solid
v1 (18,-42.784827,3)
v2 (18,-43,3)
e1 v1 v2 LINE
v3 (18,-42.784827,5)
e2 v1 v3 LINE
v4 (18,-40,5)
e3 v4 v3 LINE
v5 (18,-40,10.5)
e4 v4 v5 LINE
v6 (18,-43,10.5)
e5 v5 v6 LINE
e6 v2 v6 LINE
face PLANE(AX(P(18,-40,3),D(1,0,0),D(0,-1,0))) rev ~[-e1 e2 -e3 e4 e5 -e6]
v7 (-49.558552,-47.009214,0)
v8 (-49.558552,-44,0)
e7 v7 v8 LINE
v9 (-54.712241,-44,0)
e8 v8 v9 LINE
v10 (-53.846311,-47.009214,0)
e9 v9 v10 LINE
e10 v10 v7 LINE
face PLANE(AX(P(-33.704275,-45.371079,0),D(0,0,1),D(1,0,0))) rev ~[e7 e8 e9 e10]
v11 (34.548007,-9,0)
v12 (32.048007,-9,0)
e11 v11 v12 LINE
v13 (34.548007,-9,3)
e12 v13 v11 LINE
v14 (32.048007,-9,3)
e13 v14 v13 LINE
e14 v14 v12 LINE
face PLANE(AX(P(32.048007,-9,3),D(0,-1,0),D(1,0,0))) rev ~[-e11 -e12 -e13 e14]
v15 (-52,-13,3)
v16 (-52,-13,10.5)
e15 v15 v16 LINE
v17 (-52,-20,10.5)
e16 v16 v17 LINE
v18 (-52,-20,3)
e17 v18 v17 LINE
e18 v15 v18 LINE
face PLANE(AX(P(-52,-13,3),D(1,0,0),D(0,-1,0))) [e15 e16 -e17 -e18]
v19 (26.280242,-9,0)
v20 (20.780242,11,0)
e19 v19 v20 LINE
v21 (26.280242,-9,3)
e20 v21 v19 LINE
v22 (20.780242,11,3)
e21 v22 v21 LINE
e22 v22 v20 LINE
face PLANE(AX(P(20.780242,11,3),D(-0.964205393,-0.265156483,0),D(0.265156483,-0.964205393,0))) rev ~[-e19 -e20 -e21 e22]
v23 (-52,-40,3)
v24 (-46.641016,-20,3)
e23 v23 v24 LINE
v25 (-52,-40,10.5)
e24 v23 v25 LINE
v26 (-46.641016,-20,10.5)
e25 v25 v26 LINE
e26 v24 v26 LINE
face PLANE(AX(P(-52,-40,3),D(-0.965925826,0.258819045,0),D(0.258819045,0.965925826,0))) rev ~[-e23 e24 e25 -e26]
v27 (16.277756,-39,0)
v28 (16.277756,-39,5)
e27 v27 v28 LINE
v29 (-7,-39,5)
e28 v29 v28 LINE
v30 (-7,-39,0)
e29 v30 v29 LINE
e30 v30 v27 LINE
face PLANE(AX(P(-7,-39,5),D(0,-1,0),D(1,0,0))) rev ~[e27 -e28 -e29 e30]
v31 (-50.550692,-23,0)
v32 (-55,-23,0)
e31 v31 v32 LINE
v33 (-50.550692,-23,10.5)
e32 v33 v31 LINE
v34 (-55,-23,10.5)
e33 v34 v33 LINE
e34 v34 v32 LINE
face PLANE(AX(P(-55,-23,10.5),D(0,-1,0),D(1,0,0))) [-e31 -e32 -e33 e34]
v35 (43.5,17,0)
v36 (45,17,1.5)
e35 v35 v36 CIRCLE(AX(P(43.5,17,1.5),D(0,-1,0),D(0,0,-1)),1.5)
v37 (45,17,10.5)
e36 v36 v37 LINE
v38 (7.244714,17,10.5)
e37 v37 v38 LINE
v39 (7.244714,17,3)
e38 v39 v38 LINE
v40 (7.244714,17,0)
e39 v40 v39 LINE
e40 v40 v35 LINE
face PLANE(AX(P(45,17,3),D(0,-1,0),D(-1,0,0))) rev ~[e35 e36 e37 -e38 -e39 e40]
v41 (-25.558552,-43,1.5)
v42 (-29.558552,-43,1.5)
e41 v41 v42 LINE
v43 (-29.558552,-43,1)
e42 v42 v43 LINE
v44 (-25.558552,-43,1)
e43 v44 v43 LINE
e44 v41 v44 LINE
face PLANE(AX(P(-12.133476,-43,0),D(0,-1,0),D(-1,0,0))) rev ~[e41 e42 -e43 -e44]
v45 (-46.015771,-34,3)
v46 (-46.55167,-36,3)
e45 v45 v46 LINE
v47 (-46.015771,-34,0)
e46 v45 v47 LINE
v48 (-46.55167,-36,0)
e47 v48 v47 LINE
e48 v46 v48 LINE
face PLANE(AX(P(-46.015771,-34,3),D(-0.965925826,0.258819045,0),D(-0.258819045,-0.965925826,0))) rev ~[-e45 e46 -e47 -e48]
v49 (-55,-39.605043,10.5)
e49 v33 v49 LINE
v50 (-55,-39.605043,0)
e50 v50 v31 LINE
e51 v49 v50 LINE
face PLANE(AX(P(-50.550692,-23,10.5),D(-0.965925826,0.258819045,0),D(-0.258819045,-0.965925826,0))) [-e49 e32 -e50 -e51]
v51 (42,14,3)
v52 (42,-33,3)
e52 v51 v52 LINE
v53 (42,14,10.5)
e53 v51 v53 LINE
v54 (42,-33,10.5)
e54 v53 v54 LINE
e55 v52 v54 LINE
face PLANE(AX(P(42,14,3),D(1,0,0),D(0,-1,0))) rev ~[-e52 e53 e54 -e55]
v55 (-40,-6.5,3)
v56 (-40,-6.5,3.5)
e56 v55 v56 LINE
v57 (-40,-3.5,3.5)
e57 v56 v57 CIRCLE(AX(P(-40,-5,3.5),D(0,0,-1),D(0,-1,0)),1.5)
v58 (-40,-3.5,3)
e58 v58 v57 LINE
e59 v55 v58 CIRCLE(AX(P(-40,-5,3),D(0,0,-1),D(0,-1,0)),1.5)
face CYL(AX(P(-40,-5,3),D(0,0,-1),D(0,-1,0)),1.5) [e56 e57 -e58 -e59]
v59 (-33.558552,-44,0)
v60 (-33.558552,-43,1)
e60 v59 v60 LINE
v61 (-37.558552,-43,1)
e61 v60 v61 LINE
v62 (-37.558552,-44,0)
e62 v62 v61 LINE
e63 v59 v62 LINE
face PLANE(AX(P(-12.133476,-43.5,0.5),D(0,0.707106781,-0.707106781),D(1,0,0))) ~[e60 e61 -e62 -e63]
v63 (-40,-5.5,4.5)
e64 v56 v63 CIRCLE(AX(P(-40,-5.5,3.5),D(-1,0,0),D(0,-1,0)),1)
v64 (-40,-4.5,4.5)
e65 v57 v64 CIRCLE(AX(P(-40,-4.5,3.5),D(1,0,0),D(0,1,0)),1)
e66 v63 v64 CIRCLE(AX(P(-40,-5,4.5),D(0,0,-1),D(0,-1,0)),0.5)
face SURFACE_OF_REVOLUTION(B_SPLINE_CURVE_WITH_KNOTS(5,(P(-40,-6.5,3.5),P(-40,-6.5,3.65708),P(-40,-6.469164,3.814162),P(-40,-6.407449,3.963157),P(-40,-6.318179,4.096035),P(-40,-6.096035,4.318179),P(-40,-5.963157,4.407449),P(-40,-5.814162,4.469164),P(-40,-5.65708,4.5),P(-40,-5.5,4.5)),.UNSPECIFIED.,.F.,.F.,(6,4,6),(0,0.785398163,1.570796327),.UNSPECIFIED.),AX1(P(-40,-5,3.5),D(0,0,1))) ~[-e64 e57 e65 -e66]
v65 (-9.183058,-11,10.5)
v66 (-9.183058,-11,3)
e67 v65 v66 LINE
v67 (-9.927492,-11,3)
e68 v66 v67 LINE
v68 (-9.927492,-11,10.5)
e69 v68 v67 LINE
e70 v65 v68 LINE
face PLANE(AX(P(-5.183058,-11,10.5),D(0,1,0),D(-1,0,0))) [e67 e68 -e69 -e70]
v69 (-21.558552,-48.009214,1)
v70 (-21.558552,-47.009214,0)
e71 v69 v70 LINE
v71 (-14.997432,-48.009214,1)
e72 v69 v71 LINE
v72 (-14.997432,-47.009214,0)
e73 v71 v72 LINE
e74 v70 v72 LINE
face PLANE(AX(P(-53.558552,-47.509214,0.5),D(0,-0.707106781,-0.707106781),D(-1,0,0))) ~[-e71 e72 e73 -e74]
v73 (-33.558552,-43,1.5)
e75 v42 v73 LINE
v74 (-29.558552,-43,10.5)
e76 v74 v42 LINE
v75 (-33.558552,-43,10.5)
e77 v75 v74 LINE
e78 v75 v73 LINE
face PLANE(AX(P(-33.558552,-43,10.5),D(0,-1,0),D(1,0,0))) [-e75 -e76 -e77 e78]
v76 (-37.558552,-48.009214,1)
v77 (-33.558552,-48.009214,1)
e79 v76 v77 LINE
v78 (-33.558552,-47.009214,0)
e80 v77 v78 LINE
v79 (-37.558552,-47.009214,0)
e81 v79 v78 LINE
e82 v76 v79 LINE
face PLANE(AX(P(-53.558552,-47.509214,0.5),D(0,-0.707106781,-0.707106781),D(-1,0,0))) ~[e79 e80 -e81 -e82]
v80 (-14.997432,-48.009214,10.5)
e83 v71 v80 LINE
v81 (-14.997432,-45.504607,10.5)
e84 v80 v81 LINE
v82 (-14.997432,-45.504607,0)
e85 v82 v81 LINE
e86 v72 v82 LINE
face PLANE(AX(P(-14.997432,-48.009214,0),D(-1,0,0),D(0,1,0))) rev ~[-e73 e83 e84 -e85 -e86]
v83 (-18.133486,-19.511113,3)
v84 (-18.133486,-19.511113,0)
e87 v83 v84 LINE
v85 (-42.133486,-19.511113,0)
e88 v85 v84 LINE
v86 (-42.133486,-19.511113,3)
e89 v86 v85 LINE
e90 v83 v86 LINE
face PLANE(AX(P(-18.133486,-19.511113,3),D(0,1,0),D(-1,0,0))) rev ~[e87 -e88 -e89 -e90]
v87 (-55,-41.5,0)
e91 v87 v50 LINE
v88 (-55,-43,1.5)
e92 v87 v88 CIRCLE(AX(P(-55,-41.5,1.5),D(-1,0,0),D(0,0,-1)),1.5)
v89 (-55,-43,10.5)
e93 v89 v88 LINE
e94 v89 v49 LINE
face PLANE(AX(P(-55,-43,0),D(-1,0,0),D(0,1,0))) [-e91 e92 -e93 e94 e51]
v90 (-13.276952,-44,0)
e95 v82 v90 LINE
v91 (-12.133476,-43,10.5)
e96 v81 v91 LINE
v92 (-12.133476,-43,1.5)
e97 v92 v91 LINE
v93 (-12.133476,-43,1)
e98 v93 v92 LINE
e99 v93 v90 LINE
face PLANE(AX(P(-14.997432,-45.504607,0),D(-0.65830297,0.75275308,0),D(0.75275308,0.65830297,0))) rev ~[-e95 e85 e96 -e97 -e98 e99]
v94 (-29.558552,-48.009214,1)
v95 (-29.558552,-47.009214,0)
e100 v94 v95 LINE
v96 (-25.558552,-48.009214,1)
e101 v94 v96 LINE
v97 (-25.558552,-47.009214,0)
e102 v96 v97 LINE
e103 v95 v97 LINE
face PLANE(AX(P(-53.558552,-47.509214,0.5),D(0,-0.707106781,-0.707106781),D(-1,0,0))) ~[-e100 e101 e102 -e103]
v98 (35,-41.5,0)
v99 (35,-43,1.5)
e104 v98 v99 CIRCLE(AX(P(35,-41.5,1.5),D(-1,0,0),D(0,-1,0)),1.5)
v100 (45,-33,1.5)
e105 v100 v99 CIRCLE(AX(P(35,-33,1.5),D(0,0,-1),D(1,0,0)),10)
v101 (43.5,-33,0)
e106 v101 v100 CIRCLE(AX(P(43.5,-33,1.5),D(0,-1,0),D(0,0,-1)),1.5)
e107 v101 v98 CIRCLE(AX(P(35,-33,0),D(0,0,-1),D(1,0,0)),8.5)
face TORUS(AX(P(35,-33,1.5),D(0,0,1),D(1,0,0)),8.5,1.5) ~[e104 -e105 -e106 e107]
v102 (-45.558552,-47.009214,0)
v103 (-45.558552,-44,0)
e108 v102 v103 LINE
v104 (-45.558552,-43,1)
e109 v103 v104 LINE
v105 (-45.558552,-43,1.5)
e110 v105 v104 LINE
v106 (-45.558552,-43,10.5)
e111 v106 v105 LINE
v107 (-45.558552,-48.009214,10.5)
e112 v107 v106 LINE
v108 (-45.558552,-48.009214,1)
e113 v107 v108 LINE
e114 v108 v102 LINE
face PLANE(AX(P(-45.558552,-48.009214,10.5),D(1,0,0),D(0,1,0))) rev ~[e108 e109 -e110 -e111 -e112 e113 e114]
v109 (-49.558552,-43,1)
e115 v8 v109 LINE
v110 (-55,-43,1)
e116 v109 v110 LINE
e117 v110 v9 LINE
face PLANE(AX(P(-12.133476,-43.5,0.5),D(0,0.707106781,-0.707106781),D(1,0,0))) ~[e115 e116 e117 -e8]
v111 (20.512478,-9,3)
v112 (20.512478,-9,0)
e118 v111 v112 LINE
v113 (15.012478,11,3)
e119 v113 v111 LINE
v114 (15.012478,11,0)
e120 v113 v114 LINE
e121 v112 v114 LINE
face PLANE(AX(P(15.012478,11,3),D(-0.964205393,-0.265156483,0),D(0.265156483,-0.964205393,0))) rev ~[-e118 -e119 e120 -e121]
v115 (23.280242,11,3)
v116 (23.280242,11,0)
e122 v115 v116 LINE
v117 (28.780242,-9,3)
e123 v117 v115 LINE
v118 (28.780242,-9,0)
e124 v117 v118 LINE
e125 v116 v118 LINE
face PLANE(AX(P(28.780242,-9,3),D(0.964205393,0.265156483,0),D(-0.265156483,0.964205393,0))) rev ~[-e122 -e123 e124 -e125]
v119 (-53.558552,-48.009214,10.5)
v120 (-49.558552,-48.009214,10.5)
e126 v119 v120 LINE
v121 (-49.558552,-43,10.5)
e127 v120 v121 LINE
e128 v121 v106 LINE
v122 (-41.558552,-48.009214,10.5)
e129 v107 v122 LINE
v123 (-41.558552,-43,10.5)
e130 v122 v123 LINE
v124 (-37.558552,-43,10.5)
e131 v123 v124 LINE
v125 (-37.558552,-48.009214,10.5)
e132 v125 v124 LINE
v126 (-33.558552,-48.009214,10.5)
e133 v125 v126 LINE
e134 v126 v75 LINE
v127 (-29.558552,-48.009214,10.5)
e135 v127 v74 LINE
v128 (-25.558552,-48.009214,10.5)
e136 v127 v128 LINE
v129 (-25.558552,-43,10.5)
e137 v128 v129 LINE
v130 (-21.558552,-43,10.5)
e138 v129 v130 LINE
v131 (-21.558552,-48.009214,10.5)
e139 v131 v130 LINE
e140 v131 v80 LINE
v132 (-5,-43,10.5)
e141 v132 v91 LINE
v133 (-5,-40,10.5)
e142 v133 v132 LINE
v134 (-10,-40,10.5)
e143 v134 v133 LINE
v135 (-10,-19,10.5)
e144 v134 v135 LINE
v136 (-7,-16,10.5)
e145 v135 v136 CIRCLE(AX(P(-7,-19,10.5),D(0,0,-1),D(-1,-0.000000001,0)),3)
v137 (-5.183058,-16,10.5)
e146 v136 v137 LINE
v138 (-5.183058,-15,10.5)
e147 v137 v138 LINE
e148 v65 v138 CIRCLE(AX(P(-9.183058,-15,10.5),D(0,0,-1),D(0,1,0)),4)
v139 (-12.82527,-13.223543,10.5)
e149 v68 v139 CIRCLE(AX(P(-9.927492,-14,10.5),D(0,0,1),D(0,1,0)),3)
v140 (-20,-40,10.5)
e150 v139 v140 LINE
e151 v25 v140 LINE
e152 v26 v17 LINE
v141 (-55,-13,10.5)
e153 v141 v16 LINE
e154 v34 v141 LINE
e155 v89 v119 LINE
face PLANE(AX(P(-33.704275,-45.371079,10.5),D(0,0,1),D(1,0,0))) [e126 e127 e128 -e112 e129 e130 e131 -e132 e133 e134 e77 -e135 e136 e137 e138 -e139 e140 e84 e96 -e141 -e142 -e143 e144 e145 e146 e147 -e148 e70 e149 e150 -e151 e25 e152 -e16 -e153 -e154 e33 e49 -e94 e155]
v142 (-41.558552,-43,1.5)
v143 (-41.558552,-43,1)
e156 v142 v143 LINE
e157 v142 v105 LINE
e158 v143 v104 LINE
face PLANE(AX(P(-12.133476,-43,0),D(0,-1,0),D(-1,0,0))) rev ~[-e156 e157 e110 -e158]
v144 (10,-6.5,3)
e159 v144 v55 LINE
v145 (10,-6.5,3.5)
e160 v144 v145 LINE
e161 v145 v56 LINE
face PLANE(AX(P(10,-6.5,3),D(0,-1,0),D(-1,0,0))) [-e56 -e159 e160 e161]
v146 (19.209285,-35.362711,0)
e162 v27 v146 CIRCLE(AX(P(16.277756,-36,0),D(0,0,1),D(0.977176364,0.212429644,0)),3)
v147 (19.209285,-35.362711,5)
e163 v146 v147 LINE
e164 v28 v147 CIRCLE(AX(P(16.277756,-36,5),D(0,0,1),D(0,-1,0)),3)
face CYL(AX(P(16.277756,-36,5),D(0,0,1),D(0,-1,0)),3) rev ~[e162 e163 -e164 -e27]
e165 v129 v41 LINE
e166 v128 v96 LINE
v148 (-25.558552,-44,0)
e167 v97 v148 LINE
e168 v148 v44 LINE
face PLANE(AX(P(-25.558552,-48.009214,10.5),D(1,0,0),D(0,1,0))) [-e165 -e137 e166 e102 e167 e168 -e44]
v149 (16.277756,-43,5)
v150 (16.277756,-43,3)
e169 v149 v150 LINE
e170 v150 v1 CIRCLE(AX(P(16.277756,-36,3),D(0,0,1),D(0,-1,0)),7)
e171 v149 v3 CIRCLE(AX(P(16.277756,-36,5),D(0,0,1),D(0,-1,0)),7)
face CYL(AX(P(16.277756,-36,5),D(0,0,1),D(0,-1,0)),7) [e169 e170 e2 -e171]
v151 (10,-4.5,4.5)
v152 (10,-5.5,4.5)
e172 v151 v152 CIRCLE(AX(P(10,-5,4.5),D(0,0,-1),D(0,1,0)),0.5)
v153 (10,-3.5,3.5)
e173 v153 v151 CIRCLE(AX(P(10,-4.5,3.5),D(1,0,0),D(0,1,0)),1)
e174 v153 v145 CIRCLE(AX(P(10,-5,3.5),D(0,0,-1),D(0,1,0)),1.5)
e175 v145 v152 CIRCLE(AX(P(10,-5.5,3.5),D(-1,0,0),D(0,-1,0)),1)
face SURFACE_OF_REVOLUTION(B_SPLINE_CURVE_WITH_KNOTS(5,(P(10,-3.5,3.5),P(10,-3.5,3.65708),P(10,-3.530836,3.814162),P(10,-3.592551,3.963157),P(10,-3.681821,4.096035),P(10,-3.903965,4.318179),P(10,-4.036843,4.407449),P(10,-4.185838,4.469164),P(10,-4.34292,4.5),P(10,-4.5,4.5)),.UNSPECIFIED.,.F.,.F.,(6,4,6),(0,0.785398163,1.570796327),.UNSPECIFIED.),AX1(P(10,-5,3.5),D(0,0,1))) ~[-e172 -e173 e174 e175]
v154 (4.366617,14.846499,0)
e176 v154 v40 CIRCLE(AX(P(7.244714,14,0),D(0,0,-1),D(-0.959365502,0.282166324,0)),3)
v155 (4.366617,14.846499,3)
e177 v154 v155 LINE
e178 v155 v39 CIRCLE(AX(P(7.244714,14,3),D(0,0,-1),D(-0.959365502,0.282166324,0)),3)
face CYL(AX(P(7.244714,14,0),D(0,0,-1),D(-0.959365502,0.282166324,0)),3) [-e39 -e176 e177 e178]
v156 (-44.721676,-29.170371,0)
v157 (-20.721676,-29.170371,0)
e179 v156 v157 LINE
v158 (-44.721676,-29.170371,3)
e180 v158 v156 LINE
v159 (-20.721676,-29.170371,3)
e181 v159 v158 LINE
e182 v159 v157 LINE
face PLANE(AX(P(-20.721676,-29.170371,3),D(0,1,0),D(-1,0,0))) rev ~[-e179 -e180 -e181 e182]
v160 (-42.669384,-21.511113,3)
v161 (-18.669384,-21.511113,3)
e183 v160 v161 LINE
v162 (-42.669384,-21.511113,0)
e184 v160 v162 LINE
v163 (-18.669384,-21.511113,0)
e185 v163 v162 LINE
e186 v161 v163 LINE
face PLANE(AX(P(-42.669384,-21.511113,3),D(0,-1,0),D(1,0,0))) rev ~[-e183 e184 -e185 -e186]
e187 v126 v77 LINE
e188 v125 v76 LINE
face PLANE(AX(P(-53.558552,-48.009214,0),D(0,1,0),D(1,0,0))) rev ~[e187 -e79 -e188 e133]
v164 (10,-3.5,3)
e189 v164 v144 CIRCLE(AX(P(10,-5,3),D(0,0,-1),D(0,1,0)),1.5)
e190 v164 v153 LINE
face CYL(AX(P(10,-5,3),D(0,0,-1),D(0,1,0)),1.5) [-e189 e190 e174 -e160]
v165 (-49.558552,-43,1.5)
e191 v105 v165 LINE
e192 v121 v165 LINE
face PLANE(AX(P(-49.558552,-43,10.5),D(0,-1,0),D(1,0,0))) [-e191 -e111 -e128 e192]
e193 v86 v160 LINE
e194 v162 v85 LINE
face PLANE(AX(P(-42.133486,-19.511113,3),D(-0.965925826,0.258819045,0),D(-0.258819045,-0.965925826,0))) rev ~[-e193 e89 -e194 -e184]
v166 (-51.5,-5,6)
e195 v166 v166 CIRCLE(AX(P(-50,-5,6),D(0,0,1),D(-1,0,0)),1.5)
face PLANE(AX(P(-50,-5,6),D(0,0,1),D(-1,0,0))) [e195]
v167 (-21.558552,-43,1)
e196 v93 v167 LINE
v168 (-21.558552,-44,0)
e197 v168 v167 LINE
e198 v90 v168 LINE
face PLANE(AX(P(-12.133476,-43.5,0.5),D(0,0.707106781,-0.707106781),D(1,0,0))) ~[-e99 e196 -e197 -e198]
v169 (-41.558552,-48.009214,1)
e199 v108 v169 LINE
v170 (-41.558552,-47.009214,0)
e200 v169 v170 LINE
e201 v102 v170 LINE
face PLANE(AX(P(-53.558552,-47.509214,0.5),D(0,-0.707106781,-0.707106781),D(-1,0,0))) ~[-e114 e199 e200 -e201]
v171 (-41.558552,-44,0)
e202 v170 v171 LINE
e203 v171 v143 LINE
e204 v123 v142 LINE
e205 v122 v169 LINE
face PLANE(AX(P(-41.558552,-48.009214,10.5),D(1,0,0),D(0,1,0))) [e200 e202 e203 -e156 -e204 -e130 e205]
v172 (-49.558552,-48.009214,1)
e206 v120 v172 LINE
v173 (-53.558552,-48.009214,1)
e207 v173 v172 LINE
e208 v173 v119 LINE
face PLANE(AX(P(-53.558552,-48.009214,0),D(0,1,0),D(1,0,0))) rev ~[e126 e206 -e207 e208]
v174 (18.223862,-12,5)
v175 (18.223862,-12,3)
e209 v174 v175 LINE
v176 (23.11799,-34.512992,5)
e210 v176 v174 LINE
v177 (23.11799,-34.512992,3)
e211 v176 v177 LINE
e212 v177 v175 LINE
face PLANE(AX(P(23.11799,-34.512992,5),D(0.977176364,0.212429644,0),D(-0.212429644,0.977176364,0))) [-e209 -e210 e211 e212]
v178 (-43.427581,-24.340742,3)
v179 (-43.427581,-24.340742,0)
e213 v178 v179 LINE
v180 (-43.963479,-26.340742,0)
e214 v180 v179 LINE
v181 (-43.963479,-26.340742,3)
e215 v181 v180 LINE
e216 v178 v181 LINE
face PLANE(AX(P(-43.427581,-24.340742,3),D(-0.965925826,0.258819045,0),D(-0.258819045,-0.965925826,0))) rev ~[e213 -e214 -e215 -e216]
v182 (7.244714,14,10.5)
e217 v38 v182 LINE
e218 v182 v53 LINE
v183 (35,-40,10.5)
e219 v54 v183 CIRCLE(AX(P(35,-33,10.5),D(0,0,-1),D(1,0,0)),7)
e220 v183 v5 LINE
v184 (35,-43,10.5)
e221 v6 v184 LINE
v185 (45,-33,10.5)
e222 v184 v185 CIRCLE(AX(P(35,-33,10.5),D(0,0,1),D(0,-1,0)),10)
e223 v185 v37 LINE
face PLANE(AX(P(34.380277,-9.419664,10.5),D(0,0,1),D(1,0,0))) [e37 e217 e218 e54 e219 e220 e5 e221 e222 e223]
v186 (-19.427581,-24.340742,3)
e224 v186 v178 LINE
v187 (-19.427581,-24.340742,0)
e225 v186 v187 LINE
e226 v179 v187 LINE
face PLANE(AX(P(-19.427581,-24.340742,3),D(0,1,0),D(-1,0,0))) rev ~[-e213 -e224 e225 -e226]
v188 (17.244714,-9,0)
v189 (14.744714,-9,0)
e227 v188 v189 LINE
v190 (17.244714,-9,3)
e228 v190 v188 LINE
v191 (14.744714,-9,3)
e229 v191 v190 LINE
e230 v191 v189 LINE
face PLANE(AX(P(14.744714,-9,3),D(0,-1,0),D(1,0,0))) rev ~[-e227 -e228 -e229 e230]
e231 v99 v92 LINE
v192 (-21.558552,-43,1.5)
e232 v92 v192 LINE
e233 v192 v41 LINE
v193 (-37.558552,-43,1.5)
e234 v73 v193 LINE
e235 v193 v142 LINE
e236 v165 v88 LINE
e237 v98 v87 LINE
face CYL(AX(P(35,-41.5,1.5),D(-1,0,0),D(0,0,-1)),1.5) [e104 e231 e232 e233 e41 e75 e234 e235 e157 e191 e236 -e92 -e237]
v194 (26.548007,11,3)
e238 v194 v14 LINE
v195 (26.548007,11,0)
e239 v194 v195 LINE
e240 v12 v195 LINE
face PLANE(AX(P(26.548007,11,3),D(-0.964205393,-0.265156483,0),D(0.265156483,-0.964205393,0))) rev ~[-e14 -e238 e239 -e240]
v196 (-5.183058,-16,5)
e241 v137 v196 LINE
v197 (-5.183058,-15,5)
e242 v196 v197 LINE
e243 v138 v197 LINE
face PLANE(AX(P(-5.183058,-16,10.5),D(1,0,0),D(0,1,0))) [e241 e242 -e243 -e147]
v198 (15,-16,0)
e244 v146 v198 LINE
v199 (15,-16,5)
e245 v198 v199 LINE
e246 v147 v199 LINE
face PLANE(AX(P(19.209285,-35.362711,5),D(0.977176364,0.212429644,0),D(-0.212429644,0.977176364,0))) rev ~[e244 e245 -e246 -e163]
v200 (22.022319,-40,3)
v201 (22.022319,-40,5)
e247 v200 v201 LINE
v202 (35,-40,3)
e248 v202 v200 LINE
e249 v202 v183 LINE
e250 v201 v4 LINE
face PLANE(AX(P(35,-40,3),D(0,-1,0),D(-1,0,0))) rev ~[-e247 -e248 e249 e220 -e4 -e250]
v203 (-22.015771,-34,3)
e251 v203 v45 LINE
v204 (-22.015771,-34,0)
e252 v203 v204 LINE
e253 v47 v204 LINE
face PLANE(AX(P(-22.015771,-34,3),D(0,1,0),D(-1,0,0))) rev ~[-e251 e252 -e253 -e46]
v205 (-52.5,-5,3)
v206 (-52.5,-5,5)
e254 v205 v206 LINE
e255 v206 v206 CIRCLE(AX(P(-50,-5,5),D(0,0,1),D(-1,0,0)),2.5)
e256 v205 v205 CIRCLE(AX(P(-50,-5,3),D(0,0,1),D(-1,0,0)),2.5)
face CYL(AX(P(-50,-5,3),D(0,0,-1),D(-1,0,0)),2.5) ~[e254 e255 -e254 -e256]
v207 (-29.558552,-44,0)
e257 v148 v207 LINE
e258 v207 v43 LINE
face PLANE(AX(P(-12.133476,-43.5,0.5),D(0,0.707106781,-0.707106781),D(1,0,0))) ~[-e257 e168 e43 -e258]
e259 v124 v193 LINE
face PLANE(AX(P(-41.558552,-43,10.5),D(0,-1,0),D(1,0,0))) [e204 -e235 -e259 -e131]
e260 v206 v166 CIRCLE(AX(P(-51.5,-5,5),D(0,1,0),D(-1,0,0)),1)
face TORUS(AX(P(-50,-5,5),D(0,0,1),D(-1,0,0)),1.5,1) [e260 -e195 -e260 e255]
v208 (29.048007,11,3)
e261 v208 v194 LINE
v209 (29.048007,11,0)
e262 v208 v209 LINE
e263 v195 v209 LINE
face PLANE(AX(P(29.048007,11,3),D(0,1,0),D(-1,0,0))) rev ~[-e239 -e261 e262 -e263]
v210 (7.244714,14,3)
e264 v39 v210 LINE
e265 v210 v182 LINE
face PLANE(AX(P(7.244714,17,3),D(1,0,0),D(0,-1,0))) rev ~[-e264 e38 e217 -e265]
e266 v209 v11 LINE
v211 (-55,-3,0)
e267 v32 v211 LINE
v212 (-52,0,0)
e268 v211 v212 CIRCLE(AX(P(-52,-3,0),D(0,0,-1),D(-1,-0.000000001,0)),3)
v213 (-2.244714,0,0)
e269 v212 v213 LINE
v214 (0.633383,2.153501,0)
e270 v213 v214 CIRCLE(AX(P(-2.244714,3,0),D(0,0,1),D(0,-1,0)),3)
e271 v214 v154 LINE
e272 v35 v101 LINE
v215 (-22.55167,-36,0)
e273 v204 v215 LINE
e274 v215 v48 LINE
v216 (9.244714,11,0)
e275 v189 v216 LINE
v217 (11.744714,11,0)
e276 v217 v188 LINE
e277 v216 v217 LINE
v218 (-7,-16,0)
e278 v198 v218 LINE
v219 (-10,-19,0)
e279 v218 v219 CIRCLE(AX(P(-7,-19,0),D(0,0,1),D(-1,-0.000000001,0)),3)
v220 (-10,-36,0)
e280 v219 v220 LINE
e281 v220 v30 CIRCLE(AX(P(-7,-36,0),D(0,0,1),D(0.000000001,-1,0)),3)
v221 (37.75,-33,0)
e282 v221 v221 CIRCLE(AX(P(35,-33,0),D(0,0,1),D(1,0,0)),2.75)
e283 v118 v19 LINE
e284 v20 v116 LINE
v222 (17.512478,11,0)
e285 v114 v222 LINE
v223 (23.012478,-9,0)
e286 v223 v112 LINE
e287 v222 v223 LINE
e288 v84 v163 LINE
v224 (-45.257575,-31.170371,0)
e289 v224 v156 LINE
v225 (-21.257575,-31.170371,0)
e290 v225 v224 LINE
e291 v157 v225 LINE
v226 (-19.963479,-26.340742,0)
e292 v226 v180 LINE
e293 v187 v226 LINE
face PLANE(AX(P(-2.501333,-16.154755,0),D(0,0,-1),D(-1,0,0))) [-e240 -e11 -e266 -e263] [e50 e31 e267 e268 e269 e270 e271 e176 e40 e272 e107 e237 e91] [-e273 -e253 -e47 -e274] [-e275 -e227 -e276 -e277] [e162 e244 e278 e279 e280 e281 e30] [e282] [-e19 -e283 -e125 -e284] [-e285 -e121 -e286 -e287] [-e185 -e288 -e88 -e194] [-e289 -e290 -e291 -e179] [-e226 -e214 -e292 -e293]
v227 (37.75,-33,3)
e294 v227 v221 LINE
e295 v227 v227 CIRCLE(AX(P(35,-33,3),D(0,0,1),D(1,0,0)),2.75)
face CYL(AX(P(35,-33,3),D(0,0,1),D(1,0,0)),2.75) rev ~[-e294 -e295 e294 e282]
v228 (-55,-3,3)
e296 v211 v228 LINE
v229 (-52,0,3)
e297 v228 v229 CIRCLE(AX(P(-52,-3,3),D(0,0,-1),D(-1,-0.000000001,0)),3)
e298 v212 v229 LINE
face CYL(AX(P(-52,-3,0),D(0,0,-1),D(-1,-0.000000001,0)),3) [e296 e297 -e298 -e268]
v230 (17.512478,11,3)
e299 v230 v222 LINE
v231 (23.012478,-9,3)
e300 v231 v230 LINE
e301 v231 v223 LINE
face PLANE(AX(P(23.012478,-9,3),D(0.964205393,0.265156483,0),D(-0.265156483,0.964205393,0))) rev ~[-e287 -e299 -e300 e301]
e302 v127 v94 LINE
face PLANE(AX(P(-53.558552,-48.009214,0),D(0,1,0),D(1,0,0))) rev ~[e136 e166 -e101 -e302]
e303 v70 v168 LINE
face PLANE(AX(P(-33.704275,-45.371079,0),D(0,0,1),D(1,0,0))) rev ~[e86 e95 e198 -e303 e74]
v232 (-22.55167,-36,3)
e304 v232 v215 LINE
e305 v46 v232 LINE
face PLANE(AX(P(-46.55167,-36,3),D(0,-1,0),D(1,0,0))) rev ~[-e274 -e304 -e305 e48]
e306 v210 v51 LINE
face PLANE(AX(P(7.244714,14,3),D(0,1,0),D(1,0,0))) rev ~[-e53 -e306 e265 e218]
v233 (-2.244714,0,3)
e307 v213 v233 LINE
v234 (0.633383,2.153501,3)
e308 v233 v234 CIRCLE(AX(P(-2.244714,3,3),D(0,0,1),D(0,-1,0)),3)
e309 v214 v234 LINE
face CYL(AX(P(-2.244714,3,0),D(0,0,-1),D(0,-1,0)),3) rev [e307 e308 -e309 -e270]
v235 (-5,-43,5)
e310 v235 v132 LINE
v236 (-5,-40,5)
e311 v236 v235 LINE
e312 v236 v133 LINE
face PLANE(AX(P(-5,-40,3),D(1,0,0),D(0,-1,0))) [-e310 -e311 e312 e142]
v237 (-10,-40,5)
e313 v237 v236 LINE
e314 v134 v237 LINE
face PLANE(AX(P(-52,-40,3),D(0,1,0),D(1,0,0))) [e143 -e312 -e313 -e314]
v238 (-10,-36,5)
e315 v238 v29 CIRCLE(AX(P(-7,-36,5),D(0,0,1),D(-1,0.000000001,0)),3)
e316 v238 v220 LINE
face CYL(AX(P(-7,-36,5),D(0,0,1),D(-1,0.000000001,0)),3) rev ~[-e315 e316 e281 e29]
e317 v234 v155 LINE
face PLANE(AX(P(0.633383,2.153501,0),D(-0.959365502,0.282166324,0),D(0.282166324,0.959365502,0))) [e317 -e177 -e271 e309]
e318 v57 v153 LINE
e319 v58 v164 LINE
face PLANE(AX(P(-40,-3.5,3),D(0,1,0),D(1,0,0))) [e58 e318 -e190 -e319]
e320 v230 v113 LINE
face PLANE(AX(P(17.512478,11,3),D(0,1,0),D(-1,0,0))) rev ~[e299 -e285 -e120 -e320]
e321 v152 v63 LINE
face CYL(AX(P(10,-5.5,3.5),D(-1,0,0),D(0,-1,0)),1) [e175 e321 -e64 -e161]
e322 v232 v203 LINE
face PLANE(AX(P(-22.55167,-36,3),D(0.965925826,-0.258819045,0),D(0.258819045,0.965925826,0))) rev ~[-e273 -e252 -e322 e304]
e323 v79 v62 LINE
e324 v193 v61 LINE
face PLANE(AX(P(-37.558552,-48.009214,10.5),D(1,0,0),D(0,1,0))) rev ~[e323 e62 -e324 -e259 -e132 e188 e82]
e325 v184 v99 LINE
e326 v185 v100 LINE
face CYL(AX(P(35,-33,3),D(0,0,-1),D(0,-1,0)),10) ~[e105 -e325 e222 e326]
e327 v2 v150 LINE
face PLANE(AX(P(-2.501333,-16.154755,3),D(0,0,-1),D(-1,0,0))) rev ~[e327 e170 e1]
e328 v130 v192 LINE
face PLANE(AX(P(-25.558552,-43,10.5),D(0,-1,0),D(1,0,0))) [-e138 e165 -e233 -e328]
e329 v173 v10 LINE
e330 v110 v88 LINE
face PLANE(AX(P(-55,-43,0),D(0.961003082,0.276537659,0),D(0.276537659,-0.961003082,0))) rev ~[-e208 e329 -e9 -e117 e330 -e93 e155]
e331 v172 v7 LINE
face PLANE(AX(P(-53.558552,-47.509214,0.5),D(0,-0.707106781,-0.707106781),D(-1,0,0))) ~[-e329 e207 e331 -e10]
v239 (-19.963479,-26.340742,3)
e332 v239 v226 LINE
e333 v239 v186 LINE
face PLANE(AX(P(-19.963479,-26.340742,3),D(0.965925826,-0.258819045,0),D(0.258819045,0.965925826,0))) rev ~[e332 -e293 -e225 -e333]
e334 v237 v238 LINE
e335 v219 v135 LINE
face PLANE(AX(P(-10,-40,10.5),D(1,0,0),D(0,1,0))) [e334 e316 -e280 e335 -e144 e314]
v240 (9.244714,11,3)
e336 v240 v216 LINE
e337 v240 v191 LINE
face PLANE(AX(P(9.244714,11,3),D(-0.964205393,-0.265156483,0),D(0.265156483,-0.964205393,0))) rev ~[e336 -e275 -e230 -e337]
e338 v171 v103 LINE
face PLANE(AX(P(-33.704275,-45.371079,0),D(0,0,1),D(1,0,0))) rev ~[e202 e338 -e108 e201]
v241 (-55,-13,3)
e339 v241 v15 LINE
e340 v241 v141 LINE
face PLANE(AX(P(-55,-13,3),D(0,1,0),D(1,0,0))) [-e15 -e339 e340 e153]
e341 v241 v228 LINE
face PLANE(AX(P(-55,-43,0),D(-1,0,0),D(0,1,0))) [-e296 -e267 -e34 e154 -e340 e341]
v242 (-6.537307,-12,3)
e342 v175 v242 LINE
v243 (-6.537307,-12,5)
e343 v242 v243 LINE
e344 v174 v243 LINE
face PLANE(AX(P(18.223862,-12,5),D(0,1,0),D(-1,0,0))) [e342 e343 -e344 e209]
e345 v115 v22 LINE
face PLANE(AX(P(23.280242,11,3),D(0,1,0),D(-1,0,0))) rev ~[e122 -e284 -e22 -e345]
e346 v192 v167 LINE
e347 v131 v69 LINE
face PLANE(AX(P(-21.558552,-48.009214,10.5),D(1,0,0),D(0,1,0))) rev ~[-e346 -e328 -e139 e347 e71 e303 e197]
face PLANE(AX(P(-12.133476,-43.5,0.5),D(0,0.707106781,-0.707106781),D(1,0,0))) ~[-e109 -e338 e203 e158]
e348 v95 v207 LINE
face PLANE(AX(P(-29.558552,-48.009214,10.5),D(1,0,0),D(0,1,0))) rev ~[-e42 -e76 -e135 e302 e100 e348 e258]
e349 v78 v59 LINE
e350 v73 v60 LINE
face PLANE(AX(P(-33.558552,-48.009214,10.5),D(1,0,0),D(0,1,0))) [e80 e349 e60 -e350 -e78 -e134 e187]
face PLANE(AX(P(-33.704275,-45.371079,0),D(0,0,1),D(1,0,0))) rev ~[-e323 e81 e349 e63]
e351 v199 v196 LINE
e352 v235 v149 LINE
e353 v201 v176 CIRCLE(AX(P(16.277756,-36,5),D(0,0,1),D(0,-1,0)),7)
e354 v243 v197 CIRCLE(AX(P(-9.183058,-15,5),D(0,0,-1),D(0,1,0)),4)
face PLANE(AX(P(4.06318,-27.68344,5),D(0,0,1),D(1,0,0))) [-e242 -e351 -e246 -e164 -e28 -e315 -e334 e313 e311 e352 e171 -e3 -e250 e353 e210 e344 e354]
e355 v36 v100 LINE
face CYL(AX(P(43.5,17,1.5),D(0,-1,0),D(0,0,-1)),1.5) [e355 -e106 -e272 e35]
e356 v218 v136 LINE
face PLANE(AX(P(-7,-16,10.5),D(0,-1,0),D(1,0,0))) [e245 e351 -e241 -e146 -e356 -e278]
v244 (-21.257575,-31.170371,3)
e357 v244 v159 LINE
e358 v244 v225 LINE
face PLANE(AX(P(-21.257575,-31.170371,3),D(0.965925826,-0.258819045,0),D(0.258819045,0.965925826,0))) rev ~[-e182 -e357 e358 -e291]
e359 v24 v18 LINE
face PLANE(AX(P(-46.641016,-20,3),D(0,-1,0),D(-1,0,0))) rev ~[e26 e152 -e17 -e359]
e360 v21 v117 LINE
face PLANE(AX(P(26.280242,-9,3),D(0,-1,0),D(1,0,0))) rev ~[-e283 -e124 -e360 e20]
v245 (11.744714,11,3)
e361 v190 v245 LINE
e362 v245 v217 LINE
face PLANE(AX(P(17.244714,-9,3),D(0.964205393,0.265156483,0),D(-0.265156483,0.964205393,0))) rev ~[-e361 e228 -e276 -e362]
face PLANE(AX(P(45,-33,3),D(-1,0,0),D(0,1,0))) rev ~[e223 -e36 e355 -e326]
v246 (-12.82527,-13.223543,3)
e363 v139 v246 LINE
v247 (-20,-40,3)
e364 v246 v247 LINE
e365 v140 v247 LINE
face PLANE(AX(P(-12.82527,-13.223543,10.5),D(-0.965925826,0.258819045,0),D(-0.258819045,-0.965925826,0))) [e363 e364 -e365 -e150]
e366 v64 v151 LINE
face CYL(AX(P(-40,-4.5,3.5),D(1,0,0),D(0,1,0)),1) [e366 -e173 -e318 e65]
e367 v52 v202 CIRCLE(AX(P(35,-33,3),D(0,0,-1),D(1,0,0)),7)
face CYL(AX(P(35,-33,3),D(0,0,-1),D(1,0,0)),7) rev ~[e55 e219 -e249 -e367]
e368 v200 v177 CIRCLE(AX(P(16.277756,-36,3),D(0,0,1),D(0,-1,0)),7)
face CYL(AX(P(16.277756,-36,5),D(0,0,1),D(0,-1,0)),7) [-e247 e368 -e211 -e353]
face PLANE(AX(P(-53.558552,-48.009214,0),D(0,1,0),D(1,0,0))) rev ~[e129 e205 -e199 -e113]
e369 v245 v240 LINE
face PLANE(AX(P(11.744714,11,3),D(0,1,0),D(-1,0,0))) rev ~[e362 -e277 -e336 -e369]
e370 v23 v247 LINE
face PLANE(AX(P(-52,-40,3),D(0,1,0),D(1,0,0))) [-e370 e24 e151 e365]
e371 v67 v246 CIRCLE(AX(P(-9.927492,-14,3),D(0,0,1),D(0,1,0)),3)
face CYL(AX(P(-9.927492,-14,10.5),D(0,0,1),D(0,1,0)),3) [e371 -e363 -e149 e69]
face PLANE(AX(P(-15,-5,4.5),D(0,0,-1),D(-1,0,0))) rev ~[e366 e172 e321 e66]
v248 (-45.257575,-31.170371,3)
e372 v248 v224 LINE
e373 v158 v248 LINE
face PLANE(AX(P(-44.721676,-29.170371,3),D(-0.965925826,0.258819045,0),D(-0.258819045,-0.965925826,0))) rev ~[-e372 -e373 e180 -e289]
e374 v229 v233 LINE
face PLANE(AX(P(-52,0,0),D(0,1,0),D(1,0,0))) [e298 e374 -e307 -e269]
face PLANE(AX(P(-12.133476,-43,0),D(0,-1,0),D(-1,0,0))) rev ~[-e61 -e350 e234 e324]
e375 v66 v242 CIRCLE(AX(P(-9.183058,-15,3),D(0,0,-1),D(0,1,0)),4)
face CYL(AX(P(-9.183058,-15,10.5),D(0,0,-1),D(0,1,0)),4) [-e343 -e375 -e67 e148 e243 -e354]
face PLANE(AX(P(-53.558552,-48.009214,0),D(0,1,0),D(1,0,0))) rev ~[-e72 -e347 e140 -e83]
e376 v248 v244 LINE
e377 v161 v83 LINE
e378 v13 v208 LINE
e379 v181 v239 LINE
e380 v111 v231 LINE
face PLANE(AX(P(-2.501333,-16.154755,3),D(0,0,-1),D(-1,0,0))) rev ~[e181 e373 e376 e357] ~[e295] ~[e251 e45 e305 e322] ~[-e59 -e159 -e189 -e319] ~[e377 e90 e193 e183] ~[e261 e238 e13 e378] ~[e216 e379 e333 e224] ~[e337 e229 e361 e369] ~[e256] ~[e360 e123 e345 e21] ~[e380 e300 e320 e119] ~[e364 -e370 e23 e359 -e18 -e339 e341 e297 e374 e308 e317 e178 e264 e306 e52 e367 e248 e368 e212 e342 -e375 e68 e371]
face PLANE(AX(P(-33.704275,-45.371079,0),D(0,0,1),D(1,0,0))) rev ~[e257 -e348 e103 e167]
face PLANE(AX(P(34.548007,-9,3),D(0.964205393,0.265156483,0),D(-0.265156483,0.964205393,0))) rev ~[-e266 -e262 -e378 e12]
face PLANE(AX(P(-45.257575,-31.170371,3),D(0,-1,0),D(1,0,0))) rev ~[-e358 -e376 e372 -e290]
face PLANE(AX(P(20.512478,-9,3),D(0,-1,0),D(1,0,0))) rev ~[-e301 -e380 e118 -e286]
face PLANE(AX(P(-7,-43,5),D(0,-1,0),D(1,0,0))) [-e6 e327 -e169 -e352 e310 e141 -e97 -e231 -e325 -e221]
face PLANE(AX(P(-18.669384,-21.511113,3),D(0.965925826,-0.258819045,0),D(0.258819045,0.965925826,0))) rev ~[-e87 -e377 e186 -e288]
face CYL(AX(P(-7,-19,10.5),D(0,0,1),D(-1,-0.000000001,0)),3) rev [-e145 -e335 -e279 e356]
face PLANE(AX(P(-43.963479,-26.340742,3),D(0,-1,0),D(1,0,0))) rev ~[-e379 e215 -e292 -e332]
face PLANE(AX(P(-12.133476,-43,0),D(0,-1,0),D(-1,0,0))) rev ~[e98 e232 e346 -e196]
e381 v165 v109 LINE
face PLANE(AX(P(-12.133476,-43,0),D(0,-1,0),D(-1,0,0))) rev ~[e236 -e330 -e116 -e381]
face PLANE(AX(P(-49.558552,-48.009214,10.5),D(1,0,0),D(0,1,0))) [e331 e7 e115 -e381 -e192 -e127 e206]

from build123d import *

# Parameters (mm, degrees)
BOSS_EXTRUDE1_DEPTH = 3
CUT_EXTRUDE1_DEPTH  = 70.878465925
BOSS_EXTRUDE2_DEPTH = 7.5
BOSS_EXTRUDE3_START = 2
BOSS_EXTRUDE3_DEPTH = 2
CUT_EXTRUDE2_DEPTH  = 71.215738976
BOSS_EXTRUDE4_DEPTH = 7.5
CUT_EXTRUDE3_DEPTH  = 71.599220959
BOSS_EXTRUDE5_START = 7.5
BOSS_EXTRUDE5_DEPTH = 7.5
SKETCH10_R          = 2.5
BOSS_EXTRUDE6_DEPTH = 3
FILLET2_R           = 1
SKETCH11_R          = 2.75
CUT_EXTRUDE5_DEPTH  = 71.215738976
FILLET3_R           = 1.5
CUT_EXTRUDE6_DEPTH  = 71.215738976
BOSS_EXTRUDE7_DEPTH = 10.5
CHAMFER1_SIZE       = 1
SKETCH14_W          = 4
SKETCH14_H          = 5.009213965
CUT_EXTRUDE7_DEPTH  = 74.75726829
BOSS_EXTRUDE8_DEPTH = 1.5
FILLET4_R           = 1
FILLET5_R           = 4


with BuildPart() as part:
    # Sketch1 → Boss-Extrude1 (new body)
    with BuildSketch(Plane.XY):
        with BuildLine():
            Line((0.633382655, 2.153501028), (4.366617345, 14.846498972))
            ThreePointArc((4.366617345, 14.846498972), (5.447423794, 16.40203007), (7.244713849, 17))
            Line((7.244713849, 17), (45, 17))
            Line((45, 17), (45, -33))
            ThreePointArc((45, -33), (42.071067812, -40.071067812), (35, -43))
            Line((35, -43), (-55, -43))
            Line((-55, -43), (-55, -3))
            ThreePointArc((-55, -3), (-54.121320344, -0.878679656), (-52, 0))
            Line((-52, 0), (-2.244713849, 0))
            ThreePointArc((-2.244713849, 0), (-0.447423794, 0.59796993), (0.633382655, 2.153501028))
        make_face()
    extrude(amount=BOSS_EXTRUDE1_DEPTH)

    # Sketch2 → Cut-Extrude1 (cut, through all)
    with BuildSketch(Plane.XY.offset(3)):
        with BuildLine():
            Line((-7, -16), (15, -16))
            Line((15, -16), (19.209285015, -35.362711067))
            ThreePointArc((19.209285015, -35.362711067), (18.613549878, -37.882569149), (16.277755923, -39))
            Line((16.277755923, -39), (-7, -39))
            ThreePointArc((-7, -39), (-9.121320344, -38.121320344), (-10, -36))
            Line((-10, -36), (-10, -19))
            ThreePointArc((-10, -19), (-9.121320344, -16.878679656), (-7, -16))
        make_face()
    extrude(amount=-CUT_EXTRUDE1_DEPTH, mode=Mode.SUBTRACT)

    # Sketch3 → Boss-Extrude2 (add)
    with BuildSketch(Plane.XY.offset(3)):
        with BuildLine():
            Line((45, -33), (45, 17))
            Line((45, 17), (7.244713849, 17))
            Line((7.244713849, 17), (7.244713849, 14))
            Line((7.244713849, 14), (42, 14))
            Line((42, 14), (42, -33))
            ThreePointArc((42, -33), (39.949747468, -37.949747468), (35, -40))
            Line((35, -40), (18, -40))
            Line((18, -40), (18, -43))
            Line((18, -43), (35, -43))
            ThreePointArc((35, -43), (42.071067812, -40.071067812), (45, -33))
        make_face()
        Polygon((-5, -43), (-55, -43), (-55, -13), (-52, -13), (-52, -40), (-5, -40), align=None)
    extrude(amount=BOSS_EXTRUDE2_DEPTH)

    # Sketch4 → Boss-Extrude3 (add)
    with BuildSketch(Plane.XY.offset(3).offset(BOSS_EXTRUDE3_START)):
        with BuildLine():
            Line((18.223861668, -12), (-7, -12))
            ThreePointArc((-7, -12), (-11.949747468, -14.050252532), (-14, -19))
            Line((-14, -19), (-14, -36))
            ThreePointArc((-14, -36), (-11.949747468, -40.949747468), (-7, -43))
            Line((-7, -43), (16.277755923, -43))
            ThreePointArc((16.277755923, -43), (21.727941817, -40.392661348), (23.11799047, -34.51299249))
            Line((23.11799047, -34.51299249), (18.223861668, -12))
        make_face()
        with BuildLine():
            Line((15, -16), (-7, -16))
            ThreePointArc((-7, -16), (-9.121320344, -16.878679656), (-10, -19))
            Line((-10, -19), (-10, -36))
            ThreePointArc((-10, -36), (-9.121320344, -38.121320344), (-7, -39))
            Line((-7, -39), (16.277755923, -39))
            ThreePointArc((16.277755923, -39), (18.613549878, -37.882569149), (19.209285015, -35.362711067))
            Line((19.209285015, -35.362711067), (15, -16))
        make_face(mode=Mode.SUBTRACT)
    extrude(amount=-BOSS_EXTRUDE3_DEPTH)

    # Sketch5 → Cut-Extrude2 (cut, through all)
    with BuildSketch(Plane.XY.offset(3)):
        Polygon((9.244713849, 11), (14.744713849, -9), (17.244713849, -9), (11.744713849, 11), align=None)
        Polygon((23.012478168, -9), (17.512478168, 11), (15.012478168, 11), (20.512478168, -9), align=None)
        Polygon((28.780242487, -9), (23.280242487, 11), (20.780242487, 11), (26.280242487, -9), align=None)
        Polygon((34.548006805, -9), (29.048006805, 11), (26.548006805, 11), (32.048006805, -9), align=None)
    extrude(amount=-CUT_EXTRUDE2_DEPTH, mode=Mode.SUBTRACT)

    # Sketch6 → Boss-Extrude4 (add)
    with BuildSketch(Plane.XY.offset(3)):
        Polygon((-52, -40), (-46.641016151, -20), (-52, -20), align=None)
    extrude(amount=BOSS_EXTRUDE4_DEPTH)

    # Sketch7 → Cut-Extrude3 (cut, through all)
    with BuildSketch(Plane.XY.offset(10.5)):
        Polygon((-55, -39.605042507), (-55, -23), (-50.55069227, -23), align=None)
    extrude(amount=-CUT_EXTRUDE3_DEPTH, mode=Mode.SUBTRACT)

    # Sketch8 → Boss-Extrude5 (add)
    with BuildSketch(Plane.XY.offset(3).offset(BOSS_EXTRUDE5_START)):
        with BuildLine():
            Line((-10, -40), (-10, -19))
            ThreePointArc((-10, -19), (-9.121320344, -16.878679656), (-7, -16))
            Line((-7, -16), (-5.183058398, -16))
            Line((-5.183058398, -16), (-5.183058398, -11))
            Line((-5.183058398, -11), (-9.927492456, -11))
            ThreePointArc((-9.927492456, -11), (-11.753776743, -11.619939979), (-12.825269934, -13.223542865))
            Line((-12.825269934, -13.223542865), (-20, -40))
            Line((-20, -40), (-10, -40))
        make_face()
    extrude(amount=-BOSS_EXTRUDE5_DEPTH)

    # Sketch10 → Boss-Extrude6 (add)
    with BuildSketch(Plane.XY.offset(3)):
        with Locations(Location((-50, -5, 0), (0, 0, 180))):
            Circle(SKETCH10_R)
    extrude(amount=BOSS_EXTRUDE6_DEPTH)

    # Fillet2
    fillet2_edges = [part.edges().sort_by_distance(p)[0] for p in [
        (-47.5, -5, 6),
    ]]
    fillet(fillet2_edges, radius=FILLET2_R)

    # Sketch11 → Cut-Extrude5 (cut, through all)
    with BuildSketch(Plane.XY.offset(3)):
        with Locations((35, -33)):
            Circle(SKETCH11_R)
    extrude(amount=-CUT_EXTRUDE5_DEPTH, mode=Mode.SUBTRACT)

    # Fillet3
    fillet3_edges = [part.edges().sort_by_distance(p)[0] for p in [
        (45, -8, 0),
        (42.071067812, -40.071067812, 0),
        (-10, -43, 0),
    ]]
    fillet(fillet3_edges, radius=FILLET3_R)

    # Sketch12 → Cut-Extrude6 (cut, through all)
    with BuildSketch(Plane.XY.offset(3)):
        Polygon((-46.551669862, -36), (-22.551669862, -36), (-22.015771477, -34), (-46.015771477, -34), align=None)
        Polygon((-45.257574636, -31.170370869), (-21.257574636, -31.170370869), (-20.721676251, -29.170370869), (-44.721676251, -29.170370869), align=None)
        Polygon((-43.963479411, -26.340741737), (-19.963479411, -26.340741737), (-19.427581026, -24.340741737), (-43.427581026, -24.340741737), align=None)
        Polygon((-42.669384185, -21.511112606), (-18.669384185, -21.511112606), (-18.1334858, -19.511112606), (-42.1334858, -19.511112606), align=None)
    extrude(amount=-CUT_EXTRUDE6_DEPTH, mode=Mode.SUBTRACT)

    # Sketch13 → Boss-Extrude7 (add)
    with BuildSketch(Plane.XY):
        Polygon((-55, -43), (-53.558551653, -48.009213965), (-14.997432238, -48.009213965), (-14.997432238, -45.504606983), (-12.13347642, -43), align=None)
    extrude(amount=BOSS_EXTRUDE7_DEPTH)

    # Chamfer1
    chamfer1_edges = [part.edges().sort_by_distance(p)[0] for p in [
        (-33.56673821, -43, 0),
        (-34.277991946, -48.009213965, 0),
    ]]
    chamfer(chamfer1_edges, length=CHAMFER1_SIZE)

    # Sketch14 → Cut-Extrude7 (cut, through all)
    with BuildSketch(Plane.XY.offset(10.5)):
        with Locations((-47.558551653, -45.504606983)):
            Rectangle(SKETCH14_W, SKETCH14_H)
        with Locations((-39.558551653, -45.504606983)):
            Rectangle(SKETCH14_W, SKETCH14_H)
        with Locations((-31.558551653, -45.504606983)):
            Rectangle(SKETCH14_W, SKETCH14_H)
        with Locations((-23.558551653, -45.504606983)):
            Rectangle(SKETCH14_W, SKETCH14_H)
    extrude(amount=-CUT_EXTRUDE7_DEPTH, mode=Mode.SUBTRACT)

    # Sketch9 → Boss-Extrude8 (add)
    with BuildSketch(Plane.XY.offset(3)):
        with BuildLine():
            Line((-40, -3.5), (10, -3.5))
            ThreePointArc((10, -3.5), (11.5, -5), (10, -6.5))
            Line((10, -6.5), (-40, -6.5))
            ThreePointArc((-40, -6.5), (-41.5, -5), (-40, -3.5))
        make_face()
    extrude(amount=BOSS_EXTRUDE8_DEPTH)

    # Fillet4
    fillet4_edges = [part.edges().sort_by_distance(p)[0] for p in [
        (-41.5, -5, 4.5),
        (-15, -6.5, 4.5),
        (11.5, -5, 4.5),
        (-15, -3.5, 4.5),
    ]]
    fillet(fillet4_edges, radius=FILLET4_R)

    # Fillet5
    fillet5_edges = [part.edges().sort_by_distance(p)[0] for p in [
        (-5.183058398, -11, 6.75),
    ]]
    fillet(fillet5_edges, radius=FILLET5_R)


solid = part.part
